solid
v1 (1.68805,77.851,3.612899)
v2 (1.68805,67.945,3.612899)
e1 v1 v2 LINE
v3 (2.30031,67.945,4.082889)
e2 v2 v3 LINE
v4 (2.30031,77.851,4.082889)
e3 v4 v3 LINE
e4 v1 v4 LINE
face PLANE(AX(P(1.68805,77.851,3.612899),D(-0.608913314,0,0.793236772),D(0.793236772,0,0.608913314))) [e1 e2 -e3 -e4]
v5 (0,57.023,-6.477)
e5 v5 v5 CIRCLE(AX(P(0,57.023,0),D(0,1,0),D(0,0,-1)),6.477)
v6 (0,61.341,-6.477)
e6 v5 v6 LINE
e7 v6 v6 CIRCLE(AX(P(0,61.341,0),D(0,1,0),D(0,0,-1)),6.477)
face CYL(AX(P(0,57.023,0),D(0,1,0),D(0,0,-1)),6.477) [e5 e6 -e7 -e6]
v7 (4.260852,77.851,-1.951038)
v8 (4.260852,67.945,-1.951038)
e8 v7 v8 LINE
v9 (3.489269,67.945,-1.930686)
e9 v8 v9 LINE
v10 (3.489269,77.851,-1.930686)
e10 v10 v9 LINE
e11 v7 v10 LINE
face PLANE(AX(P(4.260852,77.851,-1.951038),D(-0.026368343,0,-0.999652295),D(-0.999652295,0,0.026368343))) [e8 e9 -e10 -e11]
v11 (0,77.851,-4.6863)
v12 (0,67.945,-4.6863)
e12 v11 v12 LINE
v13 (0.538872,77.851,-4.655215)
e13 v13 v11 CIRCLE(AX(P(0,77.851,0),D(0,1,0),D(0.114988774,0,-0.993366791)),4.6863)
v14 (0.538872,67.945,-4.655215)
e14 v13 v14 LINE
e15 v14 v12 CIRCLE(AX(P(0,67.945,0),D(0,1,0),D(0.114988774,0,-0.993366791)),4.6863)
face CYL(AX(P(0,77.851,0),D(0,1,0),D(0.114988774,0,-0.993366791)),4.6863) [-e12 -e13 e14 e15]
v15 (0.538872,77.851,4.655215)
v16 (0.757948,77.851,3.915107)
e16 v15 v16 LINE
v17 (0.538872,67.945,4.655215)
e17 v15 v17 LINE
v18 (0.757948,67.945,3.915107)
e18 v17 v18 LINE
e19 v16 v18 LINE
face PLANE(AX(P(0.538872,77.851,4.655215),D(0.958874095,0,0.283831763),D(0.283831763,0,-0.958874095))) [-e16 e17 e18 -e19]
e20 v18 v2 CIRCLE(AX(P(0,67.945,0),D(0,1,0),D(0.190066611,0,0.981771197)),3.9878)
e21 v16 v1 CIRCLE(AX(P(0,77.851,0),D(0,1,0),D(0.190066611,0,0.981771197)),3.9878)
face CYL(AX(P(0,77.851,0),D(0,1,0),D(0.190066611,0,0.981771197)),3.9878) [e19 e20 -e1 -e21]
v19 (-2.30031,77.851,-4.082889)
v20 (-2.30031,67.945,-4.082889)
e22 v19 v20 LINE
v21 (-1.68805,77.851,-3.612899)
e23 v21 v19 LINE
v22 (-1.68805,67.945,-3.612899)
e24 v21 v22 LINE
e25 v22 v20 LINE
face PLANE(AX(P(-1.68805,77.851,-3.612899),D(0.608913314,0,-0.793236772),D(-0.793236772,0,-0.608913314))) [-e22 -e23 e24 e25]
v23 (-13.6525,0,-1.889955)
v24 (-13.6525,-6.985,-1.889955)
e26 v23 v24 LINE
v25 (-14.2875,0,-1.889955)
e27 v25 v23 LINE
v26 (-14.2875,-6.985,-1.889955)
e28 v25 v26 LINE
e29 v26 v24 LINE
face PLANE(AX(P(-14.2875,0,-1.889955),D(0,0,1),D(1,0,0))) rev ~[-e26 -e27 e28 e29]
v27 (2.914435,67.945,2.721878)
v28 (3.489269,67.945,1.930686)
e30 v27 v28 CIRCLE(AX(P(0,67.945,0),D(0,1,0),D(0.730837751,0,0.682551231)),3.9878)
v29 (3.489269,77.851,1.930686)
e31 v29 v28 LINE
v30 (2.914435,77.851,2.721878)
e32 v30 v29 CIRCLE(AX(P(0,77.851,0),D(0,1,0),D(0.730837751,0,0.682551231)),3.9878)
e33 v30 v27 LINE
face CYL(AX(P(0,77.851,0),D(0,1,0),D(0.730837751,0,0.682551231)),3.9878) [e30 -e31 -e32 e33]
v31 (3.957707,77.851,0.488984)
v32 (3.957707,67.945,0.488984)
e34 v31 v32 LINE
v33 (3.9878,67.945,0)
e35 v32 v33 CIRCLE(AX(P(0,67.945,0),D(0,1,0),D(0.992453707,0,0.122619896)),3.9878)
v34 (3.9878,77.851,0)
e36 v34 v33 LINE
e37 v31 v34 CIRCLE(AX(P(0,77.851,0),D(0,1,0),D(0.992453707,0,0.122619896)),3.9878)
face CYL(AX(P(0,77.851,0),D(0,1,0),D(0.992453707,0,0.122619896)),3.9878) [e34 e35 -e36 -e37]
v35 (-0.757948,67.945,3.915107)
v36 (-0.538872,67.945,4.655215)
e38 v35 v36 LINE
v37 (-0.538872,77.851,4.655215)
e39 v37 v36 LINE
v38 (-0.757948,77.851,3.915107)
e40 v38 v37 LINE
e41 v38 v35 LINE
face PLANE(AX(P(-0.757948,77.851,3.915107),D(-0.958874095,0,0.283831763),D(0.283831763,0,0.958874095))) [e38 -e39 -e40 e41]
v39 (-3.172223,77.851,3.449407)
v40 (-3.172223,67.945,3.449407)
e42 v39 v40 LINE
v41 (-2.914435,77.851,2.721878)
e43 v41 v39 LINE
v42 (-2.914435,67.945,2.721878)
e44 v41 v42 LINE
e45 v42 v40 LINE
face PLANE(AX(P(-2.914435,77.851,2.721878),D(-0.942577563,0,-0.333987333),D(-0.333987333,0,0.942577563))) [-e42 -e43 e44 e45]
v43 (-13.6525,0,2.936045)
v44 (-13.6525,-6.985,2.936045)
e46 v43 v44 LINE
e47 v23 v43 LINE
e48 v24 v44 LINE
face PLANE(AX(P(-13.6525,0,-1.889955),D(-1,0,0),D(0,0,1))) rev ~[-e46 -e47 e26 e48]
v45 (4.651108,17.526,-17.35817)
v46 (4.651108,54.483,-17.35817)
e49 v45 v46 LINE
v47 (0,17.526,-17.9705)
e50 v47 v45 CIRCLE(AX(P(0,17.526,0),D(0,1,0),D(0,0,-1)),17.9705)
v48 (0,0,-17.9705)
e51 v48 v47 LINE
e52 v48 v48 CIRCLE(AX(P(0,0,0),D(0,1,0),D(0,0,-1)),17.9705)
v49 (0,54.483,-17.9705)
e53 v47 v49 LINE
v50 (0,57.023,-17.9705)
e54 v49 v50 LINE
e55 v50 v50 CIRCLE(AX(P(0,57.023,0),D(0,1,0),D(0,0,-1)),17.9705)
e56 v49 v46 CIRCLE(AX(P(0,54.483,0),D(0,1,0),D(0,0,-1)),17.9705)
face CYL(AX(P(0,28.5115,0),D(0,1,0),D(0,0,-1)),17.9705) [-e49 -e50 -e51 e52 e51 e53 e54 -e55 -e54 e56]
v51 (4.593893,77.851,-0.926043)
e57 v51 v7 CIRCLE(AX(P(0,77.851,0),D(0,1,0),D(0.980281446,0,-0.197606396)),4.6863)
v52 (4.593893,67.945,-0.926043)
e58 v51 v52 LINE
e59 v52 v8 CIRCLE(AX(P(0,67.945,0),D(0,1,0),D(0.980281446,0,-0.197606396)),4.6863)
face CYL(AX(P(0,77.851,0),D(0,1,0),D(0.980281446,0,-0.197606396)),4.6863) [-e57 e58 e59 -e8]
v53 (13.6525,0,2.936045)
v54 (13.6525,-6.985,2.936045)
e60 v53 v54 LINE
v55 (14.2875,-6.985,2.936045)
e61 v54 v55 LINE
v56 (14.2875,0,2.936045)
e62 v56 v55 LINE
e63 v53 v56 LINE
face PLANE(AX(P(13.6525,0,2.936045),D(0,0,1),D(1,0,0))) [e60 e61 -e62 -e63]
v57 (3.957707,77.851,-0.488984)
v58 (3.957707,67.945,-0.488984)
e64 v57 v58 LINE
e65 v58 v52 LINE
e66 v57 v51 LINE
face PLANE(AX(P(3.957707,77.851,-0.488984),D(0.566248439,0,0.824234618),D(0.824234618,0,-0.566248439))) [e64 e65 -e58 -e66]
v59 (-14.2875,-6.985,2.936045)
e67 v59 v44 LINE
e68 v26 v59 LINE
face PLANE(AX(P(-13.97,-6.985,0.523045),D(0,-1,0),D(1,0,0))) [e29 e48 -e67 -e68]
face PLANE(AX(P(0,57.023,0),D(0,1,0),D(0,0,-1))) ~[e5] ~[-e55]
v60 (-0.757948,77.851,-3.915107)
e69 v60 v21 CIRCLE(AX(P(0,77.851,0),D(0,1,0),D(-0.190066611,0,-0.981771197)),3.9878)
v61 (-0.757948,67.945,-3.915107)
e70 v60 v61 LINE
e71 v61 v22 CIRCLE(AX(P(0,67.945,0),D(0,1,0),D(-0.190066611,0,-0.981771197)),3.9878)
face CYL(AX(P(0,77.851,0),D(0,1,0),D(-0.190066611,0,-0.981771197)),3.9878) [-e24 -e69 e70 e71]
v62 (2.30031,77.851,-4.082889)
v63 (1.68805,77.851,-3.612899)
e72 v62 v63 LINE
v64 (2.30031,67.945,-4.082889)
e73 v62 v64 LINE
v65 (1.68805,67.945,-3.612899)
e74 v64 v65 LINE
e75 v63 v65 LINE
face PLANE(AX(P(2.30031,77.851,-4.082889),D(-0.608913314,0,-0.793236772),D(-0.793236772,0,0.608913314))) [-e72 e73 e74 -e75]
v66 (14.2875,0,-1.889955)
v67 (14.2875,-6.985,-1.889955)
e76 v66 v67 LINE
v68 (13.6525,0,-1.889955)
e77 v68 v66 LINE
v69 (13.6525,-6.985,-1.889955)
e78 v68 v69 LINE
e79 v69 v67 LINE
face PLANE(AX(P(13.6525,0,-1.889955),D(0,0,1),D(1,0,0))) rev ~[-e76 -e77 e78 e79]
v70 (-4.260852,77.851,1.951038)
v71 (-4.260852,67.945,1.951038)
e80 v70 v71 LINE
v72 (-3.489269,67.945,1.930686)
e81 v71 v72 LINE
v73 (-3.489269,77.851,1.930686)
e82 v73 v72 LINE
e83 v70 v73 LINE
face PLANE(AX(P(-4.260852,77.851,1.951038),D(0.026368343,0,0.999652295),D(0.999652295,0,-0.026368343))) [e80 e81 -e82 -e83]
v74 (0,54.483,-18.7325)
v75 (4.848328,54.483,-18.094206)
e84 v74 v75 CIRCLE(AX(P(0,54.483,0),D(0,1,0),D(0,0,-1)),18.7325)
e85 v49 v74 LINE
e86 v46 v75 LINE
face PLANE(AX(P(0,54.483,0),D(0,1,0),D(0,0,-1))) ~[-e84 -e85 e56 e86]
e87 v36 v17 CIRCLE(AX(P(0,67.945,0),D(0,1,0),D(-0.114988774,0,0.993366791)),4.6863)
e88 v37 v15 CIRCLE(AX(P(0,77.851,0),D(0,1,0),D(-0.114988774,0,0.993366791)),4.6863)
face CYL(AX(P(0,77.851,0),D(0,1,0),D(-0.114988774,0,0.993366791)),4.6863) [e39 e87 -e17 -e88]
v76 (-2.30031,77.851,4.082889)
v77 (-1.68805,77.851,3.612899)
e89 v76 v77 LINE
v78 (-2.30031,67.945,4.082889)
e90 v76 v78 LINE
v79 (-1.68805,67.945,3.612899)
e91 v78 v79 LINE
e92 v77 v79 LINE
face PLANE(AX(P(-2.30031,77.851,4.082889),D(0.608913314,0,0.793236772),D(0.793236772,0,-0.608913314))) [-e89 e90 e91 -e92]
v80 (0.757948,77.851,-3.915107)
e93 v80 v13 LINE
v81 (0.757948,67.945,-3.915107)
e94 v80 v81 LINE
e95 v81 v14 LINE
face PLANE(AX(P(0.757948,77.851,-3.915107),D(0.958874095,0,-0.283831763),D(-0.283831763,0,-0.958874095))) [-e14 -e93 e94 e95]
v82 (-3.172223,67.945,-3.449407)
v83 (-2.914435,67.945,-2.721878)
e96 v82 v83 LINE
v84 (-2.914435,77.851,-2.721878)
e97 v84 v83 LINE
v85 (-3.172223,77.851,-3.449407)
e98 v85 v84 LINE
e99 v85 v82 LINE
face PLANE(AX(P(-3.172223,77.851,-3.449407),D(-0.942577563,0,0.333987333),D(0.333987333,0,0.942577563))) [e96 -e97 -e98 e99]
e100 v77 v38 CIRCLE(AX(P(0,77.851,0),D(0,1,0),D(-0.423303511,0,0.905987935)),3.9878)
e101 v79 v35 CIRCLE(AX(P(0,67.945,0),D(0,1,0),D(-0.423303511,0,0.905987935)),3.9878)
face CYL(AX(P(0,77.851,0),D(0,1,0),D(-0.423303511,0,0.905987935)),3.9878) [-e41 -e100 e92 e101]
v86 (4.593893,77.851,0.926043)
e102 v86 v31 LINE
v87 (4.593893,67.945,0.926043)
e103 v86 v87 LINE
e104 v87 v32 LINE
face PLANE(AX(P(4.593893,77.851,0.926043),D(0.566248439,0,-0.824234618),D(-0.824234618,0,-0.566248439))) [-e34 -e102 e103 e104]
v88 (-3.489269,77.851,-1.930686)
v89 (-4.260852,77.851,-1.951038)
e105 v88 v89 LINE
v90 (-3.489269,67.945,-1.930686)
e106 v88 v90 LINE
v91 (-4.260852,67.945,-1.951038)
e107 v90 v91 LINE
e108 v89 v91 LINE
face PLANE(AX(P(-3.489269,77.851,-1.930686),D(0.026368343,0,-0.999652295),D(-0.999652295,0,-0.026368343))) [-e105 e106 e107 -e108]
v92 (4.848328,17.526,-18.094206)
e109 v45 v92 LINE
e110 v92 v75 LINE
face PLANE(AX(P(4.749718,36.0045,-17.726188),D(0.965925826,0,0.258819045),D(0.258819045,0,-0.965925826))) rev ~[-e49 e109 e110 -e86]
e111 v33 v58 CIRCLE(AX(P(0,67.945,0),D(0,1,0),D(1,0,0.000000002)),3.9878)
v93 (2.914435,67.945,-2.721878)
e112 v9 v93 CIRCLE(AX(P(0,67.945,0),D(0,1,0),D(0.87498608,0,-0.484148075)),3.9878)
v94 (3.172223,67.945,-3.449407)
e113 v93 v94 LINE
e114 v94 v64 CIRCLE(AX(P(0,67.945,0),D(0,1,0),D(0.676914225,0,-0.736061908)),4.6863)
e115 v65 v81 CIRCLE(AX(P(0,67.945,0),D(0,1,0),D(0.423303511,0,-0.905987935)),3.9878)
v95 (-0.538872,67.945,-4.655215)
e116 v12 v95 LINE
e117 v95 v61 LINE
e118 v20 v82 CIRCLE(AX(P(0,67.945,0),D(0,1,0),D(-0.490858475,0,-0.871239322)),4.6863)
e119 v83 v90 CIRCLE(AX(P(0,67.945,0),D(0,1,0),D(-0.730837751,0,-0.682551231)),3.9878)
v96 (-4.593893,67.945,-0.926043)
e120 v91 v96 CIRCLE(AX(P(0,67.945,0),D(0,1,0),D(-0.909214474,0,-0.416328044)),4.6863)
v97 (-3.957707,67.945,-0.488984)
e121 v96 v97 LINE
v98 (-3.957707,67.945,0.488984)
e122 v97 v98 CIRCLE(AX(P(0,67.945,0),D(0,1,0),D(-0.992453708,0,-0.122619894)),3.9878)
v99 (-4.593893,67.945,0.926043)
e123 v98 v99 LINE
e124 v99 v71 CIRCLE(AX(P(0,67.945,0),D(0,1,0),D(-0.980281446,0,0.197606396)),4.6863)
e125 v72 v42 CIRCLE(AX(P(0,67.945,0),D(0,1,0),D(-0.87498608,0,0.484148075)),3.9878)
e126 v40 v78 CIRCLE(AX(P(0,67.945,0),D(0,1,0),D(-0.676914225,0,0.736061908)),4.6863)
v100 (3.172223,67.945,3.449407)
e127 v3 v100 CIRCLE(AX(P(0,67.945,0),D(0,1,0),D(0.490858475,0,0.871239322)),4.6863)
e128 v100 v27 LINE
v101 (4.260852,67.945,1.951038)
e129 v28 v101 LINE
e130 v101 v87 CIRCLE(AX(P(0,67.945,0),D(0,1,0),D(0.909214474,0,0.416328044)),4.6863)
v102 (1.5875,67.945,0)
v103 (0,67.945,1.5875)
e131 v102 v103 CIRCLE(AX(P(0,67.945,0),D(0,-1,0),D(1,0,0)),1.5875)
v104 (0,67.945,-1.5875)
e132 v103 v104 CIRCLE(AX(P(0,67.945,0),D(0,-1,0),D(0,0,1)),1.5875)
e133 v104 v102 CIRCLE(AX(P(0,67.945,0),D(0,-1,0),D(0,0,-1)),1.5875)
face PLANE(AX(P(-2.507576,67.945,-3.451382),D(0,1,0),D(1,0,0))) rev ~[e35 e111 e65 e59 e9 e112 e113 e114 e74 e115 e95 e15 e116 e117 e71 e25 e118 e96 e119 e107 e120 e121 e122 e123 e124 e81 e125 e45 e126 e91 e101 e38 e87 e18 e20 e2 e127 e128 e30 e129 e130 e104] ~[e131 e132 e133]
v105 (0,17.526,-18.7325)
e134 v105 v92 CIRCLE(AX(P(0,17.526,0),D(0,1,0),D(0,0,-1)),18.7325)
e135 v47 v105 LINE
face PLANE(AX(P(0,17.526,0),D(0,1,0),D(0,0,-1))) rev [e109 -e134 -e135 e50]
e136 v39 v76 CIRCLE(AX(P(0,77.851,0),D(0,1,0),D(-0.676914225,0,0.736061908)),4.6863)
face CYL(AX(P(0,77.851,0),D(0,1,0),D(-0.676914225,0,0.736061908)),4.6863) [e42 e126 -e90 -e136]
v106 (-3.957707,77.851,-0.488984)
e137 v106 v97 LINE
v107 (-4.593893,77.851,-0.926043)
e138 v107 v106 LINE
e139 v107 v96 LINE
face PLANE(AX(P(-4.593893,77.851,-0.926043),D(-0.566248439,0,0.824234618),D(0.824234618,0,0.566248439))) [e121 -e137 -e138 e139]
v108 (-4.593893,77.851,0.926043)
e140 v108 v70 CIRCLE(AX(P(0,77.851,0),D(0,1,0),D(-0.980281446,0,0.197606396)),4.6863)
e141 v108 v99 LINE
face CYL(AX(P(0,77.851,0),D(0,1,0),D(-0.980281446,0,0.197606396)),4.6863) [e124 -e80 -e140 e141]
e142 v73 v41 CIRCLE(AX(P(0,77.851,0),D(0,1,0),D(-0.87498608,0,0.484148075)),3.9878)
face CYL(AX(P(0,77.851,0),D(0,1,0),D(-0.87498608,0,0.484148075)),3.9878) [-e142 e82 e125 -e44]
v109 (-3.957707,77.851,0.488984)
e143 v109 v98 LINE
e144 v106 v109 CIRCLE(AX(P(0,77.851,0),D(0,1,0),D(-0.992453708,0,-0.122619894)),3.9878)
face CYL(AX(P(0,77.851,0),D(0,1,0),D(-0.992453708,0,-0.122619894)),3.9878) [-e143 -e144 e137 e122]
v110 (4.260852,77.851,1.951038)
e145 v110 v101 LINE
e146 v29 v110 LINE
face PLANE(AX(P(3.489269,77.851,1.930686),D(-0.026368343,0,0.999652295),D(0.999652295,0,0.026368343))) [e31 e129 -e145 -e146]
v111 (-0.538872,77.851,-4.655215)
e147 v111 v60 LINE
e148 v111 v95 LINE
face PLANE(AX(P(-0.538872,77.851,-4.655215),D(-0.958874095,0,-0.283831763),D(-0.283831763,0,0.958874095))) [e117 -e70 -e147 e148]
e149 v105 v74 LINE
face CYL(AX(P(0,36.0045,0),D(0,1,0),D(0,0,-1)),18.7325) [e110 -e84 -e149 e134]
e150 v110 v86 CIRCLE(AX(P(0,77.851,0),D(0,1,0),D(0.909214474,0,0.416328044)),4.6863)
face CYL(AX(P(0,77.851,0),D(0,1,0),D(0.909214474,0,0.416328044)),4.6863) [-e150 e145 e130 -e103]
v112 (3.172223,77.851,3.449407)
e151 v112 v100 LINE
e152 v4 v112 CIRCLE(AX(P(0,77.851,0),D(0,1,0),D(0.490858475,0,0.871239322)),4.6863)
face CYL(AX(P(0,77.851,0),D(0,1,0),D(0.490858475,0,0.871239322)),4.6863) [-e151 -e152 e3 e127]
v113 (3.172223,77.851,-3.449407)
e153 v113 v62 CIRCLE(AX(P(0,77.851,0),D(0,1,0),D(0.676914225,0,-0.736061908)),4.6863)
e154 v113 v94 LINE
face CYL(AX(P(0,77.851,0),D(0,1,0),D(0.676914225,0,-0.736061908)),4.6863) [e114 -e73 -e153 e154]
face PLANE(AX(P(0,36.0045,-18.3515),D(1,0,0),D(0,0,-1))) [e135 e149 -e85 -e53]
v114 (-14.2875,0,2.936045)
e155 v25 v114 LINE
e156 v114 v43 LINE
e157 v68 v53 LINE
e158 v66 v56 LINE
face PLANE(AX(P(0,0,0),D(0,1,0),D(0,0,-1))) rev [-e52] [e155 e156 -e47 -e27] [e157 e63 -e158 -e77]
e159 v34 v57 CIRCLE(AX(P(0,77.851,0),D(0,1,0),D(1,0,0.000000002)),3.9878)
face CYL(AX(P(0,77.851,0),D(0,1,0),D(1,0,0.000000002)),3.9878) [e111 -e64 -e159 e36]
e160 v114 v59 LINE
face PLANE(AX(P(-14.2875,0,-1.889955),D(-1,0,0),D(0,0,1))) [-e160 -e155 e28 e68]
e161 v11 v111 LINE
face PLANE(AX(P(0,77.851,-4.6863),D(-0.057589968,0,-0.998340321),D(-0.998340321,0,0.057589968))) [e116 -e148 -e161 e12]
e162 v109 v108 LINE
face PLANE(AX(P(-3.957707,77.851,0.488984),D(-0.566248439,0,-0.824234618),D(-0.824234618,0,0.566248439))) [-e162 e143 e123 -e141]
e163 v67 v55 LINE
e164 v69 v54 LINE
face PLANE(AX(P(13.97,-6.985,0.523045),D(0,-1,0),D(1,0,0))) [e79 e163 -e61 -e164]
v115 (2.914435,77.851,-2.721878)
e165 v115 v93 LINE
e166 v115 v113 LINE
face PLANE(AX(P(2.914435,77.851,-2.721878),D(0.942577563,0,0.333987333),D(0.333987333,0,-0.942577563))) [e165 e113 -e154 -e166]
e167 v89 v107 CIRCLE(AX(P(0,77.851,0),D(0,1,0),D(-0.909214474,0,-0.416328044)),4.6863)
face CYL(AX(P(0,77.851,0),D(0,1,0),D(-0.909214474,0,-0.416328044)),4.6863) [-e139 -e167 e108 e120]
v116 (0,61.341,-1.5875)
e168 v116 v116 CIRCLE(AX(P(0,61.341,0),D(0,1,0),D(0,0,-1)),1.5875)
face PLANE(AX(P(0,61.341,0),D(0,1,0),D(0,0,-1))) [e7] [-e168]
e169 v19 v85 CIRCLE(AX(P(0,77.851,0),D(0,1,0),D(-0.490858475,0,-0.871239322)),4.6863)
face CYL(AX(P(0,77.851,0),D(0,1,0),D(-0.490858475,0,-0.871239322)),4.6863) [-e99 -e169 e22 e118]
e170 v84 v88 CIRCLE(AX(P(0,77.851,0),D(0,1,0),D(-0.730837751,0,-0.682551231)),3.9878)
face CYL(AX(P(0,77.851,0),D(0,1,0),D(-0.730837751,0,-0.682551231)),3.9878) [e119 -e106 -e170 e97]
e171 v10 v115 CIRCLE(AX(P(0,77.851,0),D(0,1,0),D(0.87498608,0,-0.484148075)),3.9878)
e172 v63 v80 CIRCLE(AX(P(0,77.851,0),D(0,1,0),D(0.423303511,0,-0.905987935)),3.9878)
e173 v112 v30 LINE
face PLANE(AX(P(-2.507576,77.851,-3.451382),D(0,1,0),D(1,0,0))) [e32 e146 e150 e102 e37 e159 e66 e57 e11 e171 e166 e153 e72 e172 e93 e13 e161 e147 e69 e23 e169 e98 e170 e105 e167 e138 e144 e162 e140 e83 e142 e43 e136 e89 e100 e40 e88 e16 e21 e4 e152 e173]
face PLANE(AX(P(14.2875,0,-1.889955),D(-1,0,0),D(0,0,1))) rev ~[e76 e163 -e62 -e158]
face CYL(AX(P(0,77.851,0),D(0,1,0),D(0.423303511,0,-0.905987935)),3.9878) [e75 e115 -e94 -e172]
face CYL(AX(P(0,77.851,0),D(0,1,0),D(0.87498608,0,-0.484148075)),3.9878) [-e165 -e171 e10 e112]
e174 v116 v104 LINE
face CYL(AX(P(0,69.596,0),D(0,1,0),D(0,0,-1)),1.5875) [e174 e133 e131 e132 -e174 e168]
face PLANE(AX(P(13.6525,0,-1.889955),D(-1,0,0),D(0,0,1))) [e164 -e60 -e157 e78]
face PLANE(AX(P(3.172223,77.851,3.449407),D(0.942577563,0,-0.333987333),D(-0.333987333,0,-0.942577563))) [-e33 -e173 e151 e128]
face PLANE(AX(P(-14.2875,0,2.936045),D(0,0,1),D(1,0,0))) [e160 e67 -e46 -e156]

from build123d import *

# Parameters (mm, degrees)
SKETCH4_W           = 17.9705
SKETCH4_H           = 57.023
SKETCH4_W_2         = 1.5875
SKETCH4_H_2         = 16.51
BOSS_EXTRUDE3_DEPTH = 9.906
SKETCH6_W           = 0.762
SKETCH6_H           = 36.957
REVOLVE2_ANGLE      = 345
SKETCH8_W           = 0.635
SKETCH8_H           = 4.826
BOSS_EXTRUDE4_DEPTH = 6.985


with BuildPart() as part:
    # Sketch4 → Revolve1 (revolve)
    with BuildSketch(Plane(origin=(0, 0, 0), x_dir=(0, 0, -1), z_dir=(1, 0, 0))):
        with Locations((8.98525, 28.5115)):
            Rectangle(SKETCH4_W, SKETCH4_H)
        Polygon((0, 61.341), (0, 57.023), (6.477, 57.023), (6.477, 61.341), (1.5875, 61.341), align=None)
        with Locations((0.79375, 69.596)):
            Rectangle(SKETCH4_W_2, SKETCH4_H_2)
    revolve(axis=Axis((0, -9.179219972, 0), (0, 1, 0)))

    # Sketch5 → Boss-Extrude3 (add)
    # profile 1 of 12: a face of its own
    with BuildSketch(Plane(origin=(0, 77.851, 0), x_dir=(1, 0, 0), z_dir=(0, 1, 0))):
        with BuildLine():
            ThreePointArc((-2.91443478, 2.721877799), (-2.343970029, 3.22619797), (-1.688049741, 3.612898686))
            Line((-1.688049741, 3.612898686), (-2.300310076, 4.082888836))
            ThreePointArc((-2.300310076, 4.082888836), (-2.754538028, 3.791296341), (-3.172223127, 3.449406923))
            Line((-3.172223127, 3.449406923), (-2.91443478, 2.721877799))
        make_face()
    # profile 2 of 12: a face of its own
    with BuildSketch(Plane(origin=(0, 77.851, 0), x_dir=(1, 0, 0), z_dir=(0, 1, 0))):
        with BuildLine():
            Line((0, 4.6863), (0, 3.9878))
            ThreePointArc((0, 3.9878), (0.380712775, 3.969585195), (0.757947638, 3.915107178))
            Line((0.757947638, 3.915107178), (0.538871901, 4.655214793))
            ThreePointArc((0.538871901, 4.655214793), (0.269883871, 4.678522244), (0, 4.6863))
        make_face()
    # profile 3 of 12: a face of its own
    with BuildSketch(Plane(origin=(0, 77.851, 0), x_dir=(1, 0, 0), z_dir=(0, 1, 0))):
        with BuildLine():
            Line((-0.538871901, 4.655214793), (-0.757947638, 3.915107178))
            ThreePointArc((-0.757947638, 3.915107178), (-0.380712775, 3.969585195), (0, 3.9878))
            Line((0, 3.9878), (0, 4.6863))
            Line((0, 4.6863), (-0.538871901, 4.655214793))
        make_face()
    # profile 4 of 12: a face of its own
    with BuildSketch(Plane(origin=(0, 77.851, 0), x_dir=(1, 0, 0), z_dir=(0, 1, 0))):
        with BuildLine():
            Line((2.300310076, 4.082888836), (1.688049741, 3.612898686))
            ThreePointArc((1.688049741, 3.612898686), (2.343970029, 3.22619797), (2.91443478, 2.721877799))
            Line((2.91443478, 2.721877799), (3.172223127, 3.449406923))
            ThreePointArc((3.172223127, 3.449406923), (2.754538028, 3.791296341), (2.300310076, 4.082888836))
        make_face()
    # profile 5 of 12: a face of its own
    with BuildSketch(Plane(origin=(0, 77.851, 0), x_dir=(1, 0, 0), z_dir=(0, 1, 0))):
        with BuildLine():
            Line((4.260851788, 1.951038116), (3.489269493, 1.930685693))
            ThreePointArc((3.489269493, 1.930685693), (3.792623176, 1.23229797), (3.957706895, 0.488983613))
            Line((3.957706895, 0.488983613), (4.593892938, 0.926042851))
            ThreePointArc((4.593892938, 0.926042851), (4.456936152, 1.448146341), (4.260851788, 1.951038116))
        make_face()
    # profile 6 of 12: a face of its own
    with BuildSketch(Plane(origin=(0, 77.851, 0), x_dir=(1, 0, 0), z_dir=(0, 1, 0))):
        with BuildLine():
            Line((4.593892938, -0.926042851), (3.957706895, -0.488983613))
            ThreePointArc((3.957706895, -0.488983613), (3.792623176, -1.23229797), (3.489269493, -1.930685693))
            Line((3.489269493, -1.930685693), (4.260851788, -1.951038116))
            ThreePointArc((4.260851788, -1.951038116), (4.456936152, -1.448146341), (4.593892938, -0.926042851))
        make_face()
    # profile 7 of 12: a face of its own
    with BuildSketch(Plane(origin=(0, 77.851, 0), x_dir=(1, 0, 0), z_dir=(0, 1, 0))):
        with BuildLine():
            Line((3.172223127, -3.449406923), (2.91443478, -2.721877799))
            ThreePointArc((2.91443478, -2.721877799), (2.343970029, -3.22619797), (1.688049741, -3.612898686))
            Line((1.688049741, -3.612898686), (2.300310076, -4.082888836))
            ThreePointArc((2.300310076, -4.082888836), (2.754538028, -3.791296341), (3.172223127, -3.449406923))
        make_face()
    # profile 8 of 12: a face of its own
    with BuildSketch(Plane(origin=(0, 77.851, 0), x_dir=(1, 0, 0), z_dir=(0, 1, 0))):
        with BuildLine():
            ThreePointArc((0.757947638, -3.915107178), (0, -3.9878), (-0.757947638, -3.915107178))
            Line((-0.757947638, -3.915107178), (-0.538871901, -4.655214793))
            ThreePointArc((-0.538871901, -4.655214793), (0, -4.6863), (0.538871901, -4.655214793))
            Line((0.538871901, -4.655214793), (0.757947638, -3.915107178))
        make_face()
    # profile 9 of 12: a face of its own
    with BuildSketch(Plane(origin=(0, 77.851, 0), x_dir=(1, 0, 0), z_dir=(0, 1, 0))):
        with BuildLine():
            ThreePointArc((-1.688049741, -3.612898686), (-2.343970029, -3.22619797), (-2.91443478, -2.721877799))
            Line((-2.91443478, -2.721877799), (-3.172223127, -3.449406923))
            ThreePointArc((-3.172223127, -3.449406923), (-2.754538028, -3.791296341), (-2.300310076, -4.082888836))
            Line((-2.300310076, -4.082888836), (-1.688049741, -3.612898686))
        make_face()
    # profile 10 of 12: a face of its own
    with BuildSketch(Plane(origin=(0, 77.851, 0), x_dir=(1, 0, 0), z_dir=(0, 1, 0))):
        with BuildLine():
            ThreePointArc((-3.489269493, -1.930685693), (-3.792623176, -1.23229797), (-3.957706895, -0.488983613))
            Line((-3.957706895, -0.488983613), (-4.593892938, -0.926042851))
            ThreePointArc((-4.593892938, -0.926042851), (-4.456936152, -1.448146341), (-4.260851788, -1.951038116))
            Line((-4.260851788, -1.951038116), (-3.489269493, -1.930685693))
        make_face()
    # profile 11 of 12: a face of its own
    with BuildSketch(Plane(origin=(0, 77.851, 0), x_dir=(1, 0, 0), z_dir=(0, 1, 0))):
        with BuildLine():
            ThreePointArc((-3.957706895, 0.488983613), (-3.792623176, 1.23229797), (-3.489269493, 1.930685693))
            Line((-3.489269493, 1.930685693), (-4.260851788, 1.951038116))
            ThreePointArc((-4.260851788, 1.951038116), (-4.456936152, 1.448146341), (-4.593892938, 0.926042851))
            Line((-4.593892938, 0.926042851), (-3.957706895, 0.488983613))
        make_face()
    # profile 12 of 12: a face of its own
    with BuildSketch(Plane(origin=(0, 77.851, 0), x_dir=(1, 0, 0), z_dir=(0, 1, 0))):
        with BuildLine():
            ThreePointArc((0, 3.9878), (-0.380712775, 3.969585195), (-0.757947638, 3.915107178))
            ThreePointArc((-0.757947638, 3.915107178), (-1.23229797, 3.792623176), (-1.688049741, 3.612898686))
            ThreePointArc((-1.688049741, 3.612898686), (-2.343970029, 3.22619797), (-2.91443478, 2.721877799))
            ThreePointArc((-2.91443478, 2.721877799), (-3.22619797, 2.343970029), (-3.489269493, 1.930685693))
            ThreePointArc((-3.489269493, 1.930685693), (-3.792623176, 1.23229797), (-3.957706895, 0.488983613))
            ThreePointArc((-3.957706895, 0.488983613), (-3.9878, 0), (-3.957706895, -0.488983613))
            ThreePointArc((-3.957706895, -0.488983613), (-3.792623176, -1.23229797), (-3.489269493, -1.930685693))
            ThreePointArc((-3.489269493, -1.930685693), (-3.22619797, -2.343970029), (-2.91443478, -2.721877799))
            ThreePointArc((-2.91443478, -2.721877799), (-2.343970029, -3.22619797), (-1.688049741, -3.612898686))
            ThreePointArc((-1.688049741, -3.612898686), (-1.23229797, -3.792623176), (-0.757947638, -3.915107178))
            ThreePointArc((-0.757947638, -3.915107178), (0, -3.9878), (0.757947638, -3.915107178))
            ThreePointArc((0.757947638, -3.915107178), (1.23229797, -3.792623176), (1.688049741, -3.612898686))
            ThreePointArc((1.688049741, -3.612898686), (2.343970029, -3.22619797), (2.91443478, -2.721877799))
            ThreePointArc((2.91443478, -2.721877799), (3.22619797, -2.343970029), (3.489269493, -1.930685693))
            ThreePointArc((3.489269493, -1.930685693), (3.792623176, -1.23229797), (3.957706895, -0.488983613))
            ThreePointArc((3.957706895, -0.488983613), (3.980269614, -0.244954368), (3.9878, 0))
            ThreePointArc((3.9878, 0), (3.980269614, 0.244954368), (3.957706895, 0.488983613))
            ThreePointArc((3.957706895, 0.488983613), (3.792623176, 1.23229797), (3.489269493, 1.930685693))
            ThreePointArc((3.489269493, 1.930685693), (3.22619797, 2.343970029), (2.91443478, 2.721877799))
            ThreePointArc((2.91443478, 2.721877799), (2.343970029, 3.22619797), (1.688049741, 3.612898686))
            ThreePointArc((1.688049741, 3.612898686), (1.23229797, 3.792623176), (0.757947638, 3.915107178))
            ThreePointArc((0.757947638, 3.915107178), (0.380712775, 3.969585195), (0, 3.9878))
        make_face()
        with BuildLine():
            ThreePointArc((0, -1.5875), (-1.5875, 0), (0, 1.5875))
            ThreePointArc((0, 1.5875), (1.122532015, 1.122532015), (1.5875, 0))
            ThreePointArc((1.5875, 0), (1.122532015, -1.122532015), (0, -1.5875))
        make_face(mode=Mode.SUBTRACT)
    extrude(amount=-BOSS_EXTRUDE3_DEPTH)

    # Sketch6 → Revolve2 (revolve)
    with BuildSketch(Plane(origin=(0, 0, 0), x_dir=(0, 0, -1), z_dir=(1, 0, 0))):
        with Locations((18.3515, 36.0045)):
            Rectangle(SKETCH6_W, SKETCH6_H)
    revolve(axis=Axis((0, 0, 0), (0, 1, 0)), revolution_arc=REVOLVE2_ANGLE)

    # Sketch8 → Boss-Extrude4 (add)
    with BuildSketch(Plane.XZ):
        with Locations((-13.97, 0.523045405)):
            Rectangle(SKETCH8_W, SKETCH8_H)
        with Locations((13.97, 0.523045405)):
            Rectangle(SKETCH8_W, SKETCH8_H)
    extrude(amount=BOSS_EXTRUDE4_DEPTH)


solid = part.part
